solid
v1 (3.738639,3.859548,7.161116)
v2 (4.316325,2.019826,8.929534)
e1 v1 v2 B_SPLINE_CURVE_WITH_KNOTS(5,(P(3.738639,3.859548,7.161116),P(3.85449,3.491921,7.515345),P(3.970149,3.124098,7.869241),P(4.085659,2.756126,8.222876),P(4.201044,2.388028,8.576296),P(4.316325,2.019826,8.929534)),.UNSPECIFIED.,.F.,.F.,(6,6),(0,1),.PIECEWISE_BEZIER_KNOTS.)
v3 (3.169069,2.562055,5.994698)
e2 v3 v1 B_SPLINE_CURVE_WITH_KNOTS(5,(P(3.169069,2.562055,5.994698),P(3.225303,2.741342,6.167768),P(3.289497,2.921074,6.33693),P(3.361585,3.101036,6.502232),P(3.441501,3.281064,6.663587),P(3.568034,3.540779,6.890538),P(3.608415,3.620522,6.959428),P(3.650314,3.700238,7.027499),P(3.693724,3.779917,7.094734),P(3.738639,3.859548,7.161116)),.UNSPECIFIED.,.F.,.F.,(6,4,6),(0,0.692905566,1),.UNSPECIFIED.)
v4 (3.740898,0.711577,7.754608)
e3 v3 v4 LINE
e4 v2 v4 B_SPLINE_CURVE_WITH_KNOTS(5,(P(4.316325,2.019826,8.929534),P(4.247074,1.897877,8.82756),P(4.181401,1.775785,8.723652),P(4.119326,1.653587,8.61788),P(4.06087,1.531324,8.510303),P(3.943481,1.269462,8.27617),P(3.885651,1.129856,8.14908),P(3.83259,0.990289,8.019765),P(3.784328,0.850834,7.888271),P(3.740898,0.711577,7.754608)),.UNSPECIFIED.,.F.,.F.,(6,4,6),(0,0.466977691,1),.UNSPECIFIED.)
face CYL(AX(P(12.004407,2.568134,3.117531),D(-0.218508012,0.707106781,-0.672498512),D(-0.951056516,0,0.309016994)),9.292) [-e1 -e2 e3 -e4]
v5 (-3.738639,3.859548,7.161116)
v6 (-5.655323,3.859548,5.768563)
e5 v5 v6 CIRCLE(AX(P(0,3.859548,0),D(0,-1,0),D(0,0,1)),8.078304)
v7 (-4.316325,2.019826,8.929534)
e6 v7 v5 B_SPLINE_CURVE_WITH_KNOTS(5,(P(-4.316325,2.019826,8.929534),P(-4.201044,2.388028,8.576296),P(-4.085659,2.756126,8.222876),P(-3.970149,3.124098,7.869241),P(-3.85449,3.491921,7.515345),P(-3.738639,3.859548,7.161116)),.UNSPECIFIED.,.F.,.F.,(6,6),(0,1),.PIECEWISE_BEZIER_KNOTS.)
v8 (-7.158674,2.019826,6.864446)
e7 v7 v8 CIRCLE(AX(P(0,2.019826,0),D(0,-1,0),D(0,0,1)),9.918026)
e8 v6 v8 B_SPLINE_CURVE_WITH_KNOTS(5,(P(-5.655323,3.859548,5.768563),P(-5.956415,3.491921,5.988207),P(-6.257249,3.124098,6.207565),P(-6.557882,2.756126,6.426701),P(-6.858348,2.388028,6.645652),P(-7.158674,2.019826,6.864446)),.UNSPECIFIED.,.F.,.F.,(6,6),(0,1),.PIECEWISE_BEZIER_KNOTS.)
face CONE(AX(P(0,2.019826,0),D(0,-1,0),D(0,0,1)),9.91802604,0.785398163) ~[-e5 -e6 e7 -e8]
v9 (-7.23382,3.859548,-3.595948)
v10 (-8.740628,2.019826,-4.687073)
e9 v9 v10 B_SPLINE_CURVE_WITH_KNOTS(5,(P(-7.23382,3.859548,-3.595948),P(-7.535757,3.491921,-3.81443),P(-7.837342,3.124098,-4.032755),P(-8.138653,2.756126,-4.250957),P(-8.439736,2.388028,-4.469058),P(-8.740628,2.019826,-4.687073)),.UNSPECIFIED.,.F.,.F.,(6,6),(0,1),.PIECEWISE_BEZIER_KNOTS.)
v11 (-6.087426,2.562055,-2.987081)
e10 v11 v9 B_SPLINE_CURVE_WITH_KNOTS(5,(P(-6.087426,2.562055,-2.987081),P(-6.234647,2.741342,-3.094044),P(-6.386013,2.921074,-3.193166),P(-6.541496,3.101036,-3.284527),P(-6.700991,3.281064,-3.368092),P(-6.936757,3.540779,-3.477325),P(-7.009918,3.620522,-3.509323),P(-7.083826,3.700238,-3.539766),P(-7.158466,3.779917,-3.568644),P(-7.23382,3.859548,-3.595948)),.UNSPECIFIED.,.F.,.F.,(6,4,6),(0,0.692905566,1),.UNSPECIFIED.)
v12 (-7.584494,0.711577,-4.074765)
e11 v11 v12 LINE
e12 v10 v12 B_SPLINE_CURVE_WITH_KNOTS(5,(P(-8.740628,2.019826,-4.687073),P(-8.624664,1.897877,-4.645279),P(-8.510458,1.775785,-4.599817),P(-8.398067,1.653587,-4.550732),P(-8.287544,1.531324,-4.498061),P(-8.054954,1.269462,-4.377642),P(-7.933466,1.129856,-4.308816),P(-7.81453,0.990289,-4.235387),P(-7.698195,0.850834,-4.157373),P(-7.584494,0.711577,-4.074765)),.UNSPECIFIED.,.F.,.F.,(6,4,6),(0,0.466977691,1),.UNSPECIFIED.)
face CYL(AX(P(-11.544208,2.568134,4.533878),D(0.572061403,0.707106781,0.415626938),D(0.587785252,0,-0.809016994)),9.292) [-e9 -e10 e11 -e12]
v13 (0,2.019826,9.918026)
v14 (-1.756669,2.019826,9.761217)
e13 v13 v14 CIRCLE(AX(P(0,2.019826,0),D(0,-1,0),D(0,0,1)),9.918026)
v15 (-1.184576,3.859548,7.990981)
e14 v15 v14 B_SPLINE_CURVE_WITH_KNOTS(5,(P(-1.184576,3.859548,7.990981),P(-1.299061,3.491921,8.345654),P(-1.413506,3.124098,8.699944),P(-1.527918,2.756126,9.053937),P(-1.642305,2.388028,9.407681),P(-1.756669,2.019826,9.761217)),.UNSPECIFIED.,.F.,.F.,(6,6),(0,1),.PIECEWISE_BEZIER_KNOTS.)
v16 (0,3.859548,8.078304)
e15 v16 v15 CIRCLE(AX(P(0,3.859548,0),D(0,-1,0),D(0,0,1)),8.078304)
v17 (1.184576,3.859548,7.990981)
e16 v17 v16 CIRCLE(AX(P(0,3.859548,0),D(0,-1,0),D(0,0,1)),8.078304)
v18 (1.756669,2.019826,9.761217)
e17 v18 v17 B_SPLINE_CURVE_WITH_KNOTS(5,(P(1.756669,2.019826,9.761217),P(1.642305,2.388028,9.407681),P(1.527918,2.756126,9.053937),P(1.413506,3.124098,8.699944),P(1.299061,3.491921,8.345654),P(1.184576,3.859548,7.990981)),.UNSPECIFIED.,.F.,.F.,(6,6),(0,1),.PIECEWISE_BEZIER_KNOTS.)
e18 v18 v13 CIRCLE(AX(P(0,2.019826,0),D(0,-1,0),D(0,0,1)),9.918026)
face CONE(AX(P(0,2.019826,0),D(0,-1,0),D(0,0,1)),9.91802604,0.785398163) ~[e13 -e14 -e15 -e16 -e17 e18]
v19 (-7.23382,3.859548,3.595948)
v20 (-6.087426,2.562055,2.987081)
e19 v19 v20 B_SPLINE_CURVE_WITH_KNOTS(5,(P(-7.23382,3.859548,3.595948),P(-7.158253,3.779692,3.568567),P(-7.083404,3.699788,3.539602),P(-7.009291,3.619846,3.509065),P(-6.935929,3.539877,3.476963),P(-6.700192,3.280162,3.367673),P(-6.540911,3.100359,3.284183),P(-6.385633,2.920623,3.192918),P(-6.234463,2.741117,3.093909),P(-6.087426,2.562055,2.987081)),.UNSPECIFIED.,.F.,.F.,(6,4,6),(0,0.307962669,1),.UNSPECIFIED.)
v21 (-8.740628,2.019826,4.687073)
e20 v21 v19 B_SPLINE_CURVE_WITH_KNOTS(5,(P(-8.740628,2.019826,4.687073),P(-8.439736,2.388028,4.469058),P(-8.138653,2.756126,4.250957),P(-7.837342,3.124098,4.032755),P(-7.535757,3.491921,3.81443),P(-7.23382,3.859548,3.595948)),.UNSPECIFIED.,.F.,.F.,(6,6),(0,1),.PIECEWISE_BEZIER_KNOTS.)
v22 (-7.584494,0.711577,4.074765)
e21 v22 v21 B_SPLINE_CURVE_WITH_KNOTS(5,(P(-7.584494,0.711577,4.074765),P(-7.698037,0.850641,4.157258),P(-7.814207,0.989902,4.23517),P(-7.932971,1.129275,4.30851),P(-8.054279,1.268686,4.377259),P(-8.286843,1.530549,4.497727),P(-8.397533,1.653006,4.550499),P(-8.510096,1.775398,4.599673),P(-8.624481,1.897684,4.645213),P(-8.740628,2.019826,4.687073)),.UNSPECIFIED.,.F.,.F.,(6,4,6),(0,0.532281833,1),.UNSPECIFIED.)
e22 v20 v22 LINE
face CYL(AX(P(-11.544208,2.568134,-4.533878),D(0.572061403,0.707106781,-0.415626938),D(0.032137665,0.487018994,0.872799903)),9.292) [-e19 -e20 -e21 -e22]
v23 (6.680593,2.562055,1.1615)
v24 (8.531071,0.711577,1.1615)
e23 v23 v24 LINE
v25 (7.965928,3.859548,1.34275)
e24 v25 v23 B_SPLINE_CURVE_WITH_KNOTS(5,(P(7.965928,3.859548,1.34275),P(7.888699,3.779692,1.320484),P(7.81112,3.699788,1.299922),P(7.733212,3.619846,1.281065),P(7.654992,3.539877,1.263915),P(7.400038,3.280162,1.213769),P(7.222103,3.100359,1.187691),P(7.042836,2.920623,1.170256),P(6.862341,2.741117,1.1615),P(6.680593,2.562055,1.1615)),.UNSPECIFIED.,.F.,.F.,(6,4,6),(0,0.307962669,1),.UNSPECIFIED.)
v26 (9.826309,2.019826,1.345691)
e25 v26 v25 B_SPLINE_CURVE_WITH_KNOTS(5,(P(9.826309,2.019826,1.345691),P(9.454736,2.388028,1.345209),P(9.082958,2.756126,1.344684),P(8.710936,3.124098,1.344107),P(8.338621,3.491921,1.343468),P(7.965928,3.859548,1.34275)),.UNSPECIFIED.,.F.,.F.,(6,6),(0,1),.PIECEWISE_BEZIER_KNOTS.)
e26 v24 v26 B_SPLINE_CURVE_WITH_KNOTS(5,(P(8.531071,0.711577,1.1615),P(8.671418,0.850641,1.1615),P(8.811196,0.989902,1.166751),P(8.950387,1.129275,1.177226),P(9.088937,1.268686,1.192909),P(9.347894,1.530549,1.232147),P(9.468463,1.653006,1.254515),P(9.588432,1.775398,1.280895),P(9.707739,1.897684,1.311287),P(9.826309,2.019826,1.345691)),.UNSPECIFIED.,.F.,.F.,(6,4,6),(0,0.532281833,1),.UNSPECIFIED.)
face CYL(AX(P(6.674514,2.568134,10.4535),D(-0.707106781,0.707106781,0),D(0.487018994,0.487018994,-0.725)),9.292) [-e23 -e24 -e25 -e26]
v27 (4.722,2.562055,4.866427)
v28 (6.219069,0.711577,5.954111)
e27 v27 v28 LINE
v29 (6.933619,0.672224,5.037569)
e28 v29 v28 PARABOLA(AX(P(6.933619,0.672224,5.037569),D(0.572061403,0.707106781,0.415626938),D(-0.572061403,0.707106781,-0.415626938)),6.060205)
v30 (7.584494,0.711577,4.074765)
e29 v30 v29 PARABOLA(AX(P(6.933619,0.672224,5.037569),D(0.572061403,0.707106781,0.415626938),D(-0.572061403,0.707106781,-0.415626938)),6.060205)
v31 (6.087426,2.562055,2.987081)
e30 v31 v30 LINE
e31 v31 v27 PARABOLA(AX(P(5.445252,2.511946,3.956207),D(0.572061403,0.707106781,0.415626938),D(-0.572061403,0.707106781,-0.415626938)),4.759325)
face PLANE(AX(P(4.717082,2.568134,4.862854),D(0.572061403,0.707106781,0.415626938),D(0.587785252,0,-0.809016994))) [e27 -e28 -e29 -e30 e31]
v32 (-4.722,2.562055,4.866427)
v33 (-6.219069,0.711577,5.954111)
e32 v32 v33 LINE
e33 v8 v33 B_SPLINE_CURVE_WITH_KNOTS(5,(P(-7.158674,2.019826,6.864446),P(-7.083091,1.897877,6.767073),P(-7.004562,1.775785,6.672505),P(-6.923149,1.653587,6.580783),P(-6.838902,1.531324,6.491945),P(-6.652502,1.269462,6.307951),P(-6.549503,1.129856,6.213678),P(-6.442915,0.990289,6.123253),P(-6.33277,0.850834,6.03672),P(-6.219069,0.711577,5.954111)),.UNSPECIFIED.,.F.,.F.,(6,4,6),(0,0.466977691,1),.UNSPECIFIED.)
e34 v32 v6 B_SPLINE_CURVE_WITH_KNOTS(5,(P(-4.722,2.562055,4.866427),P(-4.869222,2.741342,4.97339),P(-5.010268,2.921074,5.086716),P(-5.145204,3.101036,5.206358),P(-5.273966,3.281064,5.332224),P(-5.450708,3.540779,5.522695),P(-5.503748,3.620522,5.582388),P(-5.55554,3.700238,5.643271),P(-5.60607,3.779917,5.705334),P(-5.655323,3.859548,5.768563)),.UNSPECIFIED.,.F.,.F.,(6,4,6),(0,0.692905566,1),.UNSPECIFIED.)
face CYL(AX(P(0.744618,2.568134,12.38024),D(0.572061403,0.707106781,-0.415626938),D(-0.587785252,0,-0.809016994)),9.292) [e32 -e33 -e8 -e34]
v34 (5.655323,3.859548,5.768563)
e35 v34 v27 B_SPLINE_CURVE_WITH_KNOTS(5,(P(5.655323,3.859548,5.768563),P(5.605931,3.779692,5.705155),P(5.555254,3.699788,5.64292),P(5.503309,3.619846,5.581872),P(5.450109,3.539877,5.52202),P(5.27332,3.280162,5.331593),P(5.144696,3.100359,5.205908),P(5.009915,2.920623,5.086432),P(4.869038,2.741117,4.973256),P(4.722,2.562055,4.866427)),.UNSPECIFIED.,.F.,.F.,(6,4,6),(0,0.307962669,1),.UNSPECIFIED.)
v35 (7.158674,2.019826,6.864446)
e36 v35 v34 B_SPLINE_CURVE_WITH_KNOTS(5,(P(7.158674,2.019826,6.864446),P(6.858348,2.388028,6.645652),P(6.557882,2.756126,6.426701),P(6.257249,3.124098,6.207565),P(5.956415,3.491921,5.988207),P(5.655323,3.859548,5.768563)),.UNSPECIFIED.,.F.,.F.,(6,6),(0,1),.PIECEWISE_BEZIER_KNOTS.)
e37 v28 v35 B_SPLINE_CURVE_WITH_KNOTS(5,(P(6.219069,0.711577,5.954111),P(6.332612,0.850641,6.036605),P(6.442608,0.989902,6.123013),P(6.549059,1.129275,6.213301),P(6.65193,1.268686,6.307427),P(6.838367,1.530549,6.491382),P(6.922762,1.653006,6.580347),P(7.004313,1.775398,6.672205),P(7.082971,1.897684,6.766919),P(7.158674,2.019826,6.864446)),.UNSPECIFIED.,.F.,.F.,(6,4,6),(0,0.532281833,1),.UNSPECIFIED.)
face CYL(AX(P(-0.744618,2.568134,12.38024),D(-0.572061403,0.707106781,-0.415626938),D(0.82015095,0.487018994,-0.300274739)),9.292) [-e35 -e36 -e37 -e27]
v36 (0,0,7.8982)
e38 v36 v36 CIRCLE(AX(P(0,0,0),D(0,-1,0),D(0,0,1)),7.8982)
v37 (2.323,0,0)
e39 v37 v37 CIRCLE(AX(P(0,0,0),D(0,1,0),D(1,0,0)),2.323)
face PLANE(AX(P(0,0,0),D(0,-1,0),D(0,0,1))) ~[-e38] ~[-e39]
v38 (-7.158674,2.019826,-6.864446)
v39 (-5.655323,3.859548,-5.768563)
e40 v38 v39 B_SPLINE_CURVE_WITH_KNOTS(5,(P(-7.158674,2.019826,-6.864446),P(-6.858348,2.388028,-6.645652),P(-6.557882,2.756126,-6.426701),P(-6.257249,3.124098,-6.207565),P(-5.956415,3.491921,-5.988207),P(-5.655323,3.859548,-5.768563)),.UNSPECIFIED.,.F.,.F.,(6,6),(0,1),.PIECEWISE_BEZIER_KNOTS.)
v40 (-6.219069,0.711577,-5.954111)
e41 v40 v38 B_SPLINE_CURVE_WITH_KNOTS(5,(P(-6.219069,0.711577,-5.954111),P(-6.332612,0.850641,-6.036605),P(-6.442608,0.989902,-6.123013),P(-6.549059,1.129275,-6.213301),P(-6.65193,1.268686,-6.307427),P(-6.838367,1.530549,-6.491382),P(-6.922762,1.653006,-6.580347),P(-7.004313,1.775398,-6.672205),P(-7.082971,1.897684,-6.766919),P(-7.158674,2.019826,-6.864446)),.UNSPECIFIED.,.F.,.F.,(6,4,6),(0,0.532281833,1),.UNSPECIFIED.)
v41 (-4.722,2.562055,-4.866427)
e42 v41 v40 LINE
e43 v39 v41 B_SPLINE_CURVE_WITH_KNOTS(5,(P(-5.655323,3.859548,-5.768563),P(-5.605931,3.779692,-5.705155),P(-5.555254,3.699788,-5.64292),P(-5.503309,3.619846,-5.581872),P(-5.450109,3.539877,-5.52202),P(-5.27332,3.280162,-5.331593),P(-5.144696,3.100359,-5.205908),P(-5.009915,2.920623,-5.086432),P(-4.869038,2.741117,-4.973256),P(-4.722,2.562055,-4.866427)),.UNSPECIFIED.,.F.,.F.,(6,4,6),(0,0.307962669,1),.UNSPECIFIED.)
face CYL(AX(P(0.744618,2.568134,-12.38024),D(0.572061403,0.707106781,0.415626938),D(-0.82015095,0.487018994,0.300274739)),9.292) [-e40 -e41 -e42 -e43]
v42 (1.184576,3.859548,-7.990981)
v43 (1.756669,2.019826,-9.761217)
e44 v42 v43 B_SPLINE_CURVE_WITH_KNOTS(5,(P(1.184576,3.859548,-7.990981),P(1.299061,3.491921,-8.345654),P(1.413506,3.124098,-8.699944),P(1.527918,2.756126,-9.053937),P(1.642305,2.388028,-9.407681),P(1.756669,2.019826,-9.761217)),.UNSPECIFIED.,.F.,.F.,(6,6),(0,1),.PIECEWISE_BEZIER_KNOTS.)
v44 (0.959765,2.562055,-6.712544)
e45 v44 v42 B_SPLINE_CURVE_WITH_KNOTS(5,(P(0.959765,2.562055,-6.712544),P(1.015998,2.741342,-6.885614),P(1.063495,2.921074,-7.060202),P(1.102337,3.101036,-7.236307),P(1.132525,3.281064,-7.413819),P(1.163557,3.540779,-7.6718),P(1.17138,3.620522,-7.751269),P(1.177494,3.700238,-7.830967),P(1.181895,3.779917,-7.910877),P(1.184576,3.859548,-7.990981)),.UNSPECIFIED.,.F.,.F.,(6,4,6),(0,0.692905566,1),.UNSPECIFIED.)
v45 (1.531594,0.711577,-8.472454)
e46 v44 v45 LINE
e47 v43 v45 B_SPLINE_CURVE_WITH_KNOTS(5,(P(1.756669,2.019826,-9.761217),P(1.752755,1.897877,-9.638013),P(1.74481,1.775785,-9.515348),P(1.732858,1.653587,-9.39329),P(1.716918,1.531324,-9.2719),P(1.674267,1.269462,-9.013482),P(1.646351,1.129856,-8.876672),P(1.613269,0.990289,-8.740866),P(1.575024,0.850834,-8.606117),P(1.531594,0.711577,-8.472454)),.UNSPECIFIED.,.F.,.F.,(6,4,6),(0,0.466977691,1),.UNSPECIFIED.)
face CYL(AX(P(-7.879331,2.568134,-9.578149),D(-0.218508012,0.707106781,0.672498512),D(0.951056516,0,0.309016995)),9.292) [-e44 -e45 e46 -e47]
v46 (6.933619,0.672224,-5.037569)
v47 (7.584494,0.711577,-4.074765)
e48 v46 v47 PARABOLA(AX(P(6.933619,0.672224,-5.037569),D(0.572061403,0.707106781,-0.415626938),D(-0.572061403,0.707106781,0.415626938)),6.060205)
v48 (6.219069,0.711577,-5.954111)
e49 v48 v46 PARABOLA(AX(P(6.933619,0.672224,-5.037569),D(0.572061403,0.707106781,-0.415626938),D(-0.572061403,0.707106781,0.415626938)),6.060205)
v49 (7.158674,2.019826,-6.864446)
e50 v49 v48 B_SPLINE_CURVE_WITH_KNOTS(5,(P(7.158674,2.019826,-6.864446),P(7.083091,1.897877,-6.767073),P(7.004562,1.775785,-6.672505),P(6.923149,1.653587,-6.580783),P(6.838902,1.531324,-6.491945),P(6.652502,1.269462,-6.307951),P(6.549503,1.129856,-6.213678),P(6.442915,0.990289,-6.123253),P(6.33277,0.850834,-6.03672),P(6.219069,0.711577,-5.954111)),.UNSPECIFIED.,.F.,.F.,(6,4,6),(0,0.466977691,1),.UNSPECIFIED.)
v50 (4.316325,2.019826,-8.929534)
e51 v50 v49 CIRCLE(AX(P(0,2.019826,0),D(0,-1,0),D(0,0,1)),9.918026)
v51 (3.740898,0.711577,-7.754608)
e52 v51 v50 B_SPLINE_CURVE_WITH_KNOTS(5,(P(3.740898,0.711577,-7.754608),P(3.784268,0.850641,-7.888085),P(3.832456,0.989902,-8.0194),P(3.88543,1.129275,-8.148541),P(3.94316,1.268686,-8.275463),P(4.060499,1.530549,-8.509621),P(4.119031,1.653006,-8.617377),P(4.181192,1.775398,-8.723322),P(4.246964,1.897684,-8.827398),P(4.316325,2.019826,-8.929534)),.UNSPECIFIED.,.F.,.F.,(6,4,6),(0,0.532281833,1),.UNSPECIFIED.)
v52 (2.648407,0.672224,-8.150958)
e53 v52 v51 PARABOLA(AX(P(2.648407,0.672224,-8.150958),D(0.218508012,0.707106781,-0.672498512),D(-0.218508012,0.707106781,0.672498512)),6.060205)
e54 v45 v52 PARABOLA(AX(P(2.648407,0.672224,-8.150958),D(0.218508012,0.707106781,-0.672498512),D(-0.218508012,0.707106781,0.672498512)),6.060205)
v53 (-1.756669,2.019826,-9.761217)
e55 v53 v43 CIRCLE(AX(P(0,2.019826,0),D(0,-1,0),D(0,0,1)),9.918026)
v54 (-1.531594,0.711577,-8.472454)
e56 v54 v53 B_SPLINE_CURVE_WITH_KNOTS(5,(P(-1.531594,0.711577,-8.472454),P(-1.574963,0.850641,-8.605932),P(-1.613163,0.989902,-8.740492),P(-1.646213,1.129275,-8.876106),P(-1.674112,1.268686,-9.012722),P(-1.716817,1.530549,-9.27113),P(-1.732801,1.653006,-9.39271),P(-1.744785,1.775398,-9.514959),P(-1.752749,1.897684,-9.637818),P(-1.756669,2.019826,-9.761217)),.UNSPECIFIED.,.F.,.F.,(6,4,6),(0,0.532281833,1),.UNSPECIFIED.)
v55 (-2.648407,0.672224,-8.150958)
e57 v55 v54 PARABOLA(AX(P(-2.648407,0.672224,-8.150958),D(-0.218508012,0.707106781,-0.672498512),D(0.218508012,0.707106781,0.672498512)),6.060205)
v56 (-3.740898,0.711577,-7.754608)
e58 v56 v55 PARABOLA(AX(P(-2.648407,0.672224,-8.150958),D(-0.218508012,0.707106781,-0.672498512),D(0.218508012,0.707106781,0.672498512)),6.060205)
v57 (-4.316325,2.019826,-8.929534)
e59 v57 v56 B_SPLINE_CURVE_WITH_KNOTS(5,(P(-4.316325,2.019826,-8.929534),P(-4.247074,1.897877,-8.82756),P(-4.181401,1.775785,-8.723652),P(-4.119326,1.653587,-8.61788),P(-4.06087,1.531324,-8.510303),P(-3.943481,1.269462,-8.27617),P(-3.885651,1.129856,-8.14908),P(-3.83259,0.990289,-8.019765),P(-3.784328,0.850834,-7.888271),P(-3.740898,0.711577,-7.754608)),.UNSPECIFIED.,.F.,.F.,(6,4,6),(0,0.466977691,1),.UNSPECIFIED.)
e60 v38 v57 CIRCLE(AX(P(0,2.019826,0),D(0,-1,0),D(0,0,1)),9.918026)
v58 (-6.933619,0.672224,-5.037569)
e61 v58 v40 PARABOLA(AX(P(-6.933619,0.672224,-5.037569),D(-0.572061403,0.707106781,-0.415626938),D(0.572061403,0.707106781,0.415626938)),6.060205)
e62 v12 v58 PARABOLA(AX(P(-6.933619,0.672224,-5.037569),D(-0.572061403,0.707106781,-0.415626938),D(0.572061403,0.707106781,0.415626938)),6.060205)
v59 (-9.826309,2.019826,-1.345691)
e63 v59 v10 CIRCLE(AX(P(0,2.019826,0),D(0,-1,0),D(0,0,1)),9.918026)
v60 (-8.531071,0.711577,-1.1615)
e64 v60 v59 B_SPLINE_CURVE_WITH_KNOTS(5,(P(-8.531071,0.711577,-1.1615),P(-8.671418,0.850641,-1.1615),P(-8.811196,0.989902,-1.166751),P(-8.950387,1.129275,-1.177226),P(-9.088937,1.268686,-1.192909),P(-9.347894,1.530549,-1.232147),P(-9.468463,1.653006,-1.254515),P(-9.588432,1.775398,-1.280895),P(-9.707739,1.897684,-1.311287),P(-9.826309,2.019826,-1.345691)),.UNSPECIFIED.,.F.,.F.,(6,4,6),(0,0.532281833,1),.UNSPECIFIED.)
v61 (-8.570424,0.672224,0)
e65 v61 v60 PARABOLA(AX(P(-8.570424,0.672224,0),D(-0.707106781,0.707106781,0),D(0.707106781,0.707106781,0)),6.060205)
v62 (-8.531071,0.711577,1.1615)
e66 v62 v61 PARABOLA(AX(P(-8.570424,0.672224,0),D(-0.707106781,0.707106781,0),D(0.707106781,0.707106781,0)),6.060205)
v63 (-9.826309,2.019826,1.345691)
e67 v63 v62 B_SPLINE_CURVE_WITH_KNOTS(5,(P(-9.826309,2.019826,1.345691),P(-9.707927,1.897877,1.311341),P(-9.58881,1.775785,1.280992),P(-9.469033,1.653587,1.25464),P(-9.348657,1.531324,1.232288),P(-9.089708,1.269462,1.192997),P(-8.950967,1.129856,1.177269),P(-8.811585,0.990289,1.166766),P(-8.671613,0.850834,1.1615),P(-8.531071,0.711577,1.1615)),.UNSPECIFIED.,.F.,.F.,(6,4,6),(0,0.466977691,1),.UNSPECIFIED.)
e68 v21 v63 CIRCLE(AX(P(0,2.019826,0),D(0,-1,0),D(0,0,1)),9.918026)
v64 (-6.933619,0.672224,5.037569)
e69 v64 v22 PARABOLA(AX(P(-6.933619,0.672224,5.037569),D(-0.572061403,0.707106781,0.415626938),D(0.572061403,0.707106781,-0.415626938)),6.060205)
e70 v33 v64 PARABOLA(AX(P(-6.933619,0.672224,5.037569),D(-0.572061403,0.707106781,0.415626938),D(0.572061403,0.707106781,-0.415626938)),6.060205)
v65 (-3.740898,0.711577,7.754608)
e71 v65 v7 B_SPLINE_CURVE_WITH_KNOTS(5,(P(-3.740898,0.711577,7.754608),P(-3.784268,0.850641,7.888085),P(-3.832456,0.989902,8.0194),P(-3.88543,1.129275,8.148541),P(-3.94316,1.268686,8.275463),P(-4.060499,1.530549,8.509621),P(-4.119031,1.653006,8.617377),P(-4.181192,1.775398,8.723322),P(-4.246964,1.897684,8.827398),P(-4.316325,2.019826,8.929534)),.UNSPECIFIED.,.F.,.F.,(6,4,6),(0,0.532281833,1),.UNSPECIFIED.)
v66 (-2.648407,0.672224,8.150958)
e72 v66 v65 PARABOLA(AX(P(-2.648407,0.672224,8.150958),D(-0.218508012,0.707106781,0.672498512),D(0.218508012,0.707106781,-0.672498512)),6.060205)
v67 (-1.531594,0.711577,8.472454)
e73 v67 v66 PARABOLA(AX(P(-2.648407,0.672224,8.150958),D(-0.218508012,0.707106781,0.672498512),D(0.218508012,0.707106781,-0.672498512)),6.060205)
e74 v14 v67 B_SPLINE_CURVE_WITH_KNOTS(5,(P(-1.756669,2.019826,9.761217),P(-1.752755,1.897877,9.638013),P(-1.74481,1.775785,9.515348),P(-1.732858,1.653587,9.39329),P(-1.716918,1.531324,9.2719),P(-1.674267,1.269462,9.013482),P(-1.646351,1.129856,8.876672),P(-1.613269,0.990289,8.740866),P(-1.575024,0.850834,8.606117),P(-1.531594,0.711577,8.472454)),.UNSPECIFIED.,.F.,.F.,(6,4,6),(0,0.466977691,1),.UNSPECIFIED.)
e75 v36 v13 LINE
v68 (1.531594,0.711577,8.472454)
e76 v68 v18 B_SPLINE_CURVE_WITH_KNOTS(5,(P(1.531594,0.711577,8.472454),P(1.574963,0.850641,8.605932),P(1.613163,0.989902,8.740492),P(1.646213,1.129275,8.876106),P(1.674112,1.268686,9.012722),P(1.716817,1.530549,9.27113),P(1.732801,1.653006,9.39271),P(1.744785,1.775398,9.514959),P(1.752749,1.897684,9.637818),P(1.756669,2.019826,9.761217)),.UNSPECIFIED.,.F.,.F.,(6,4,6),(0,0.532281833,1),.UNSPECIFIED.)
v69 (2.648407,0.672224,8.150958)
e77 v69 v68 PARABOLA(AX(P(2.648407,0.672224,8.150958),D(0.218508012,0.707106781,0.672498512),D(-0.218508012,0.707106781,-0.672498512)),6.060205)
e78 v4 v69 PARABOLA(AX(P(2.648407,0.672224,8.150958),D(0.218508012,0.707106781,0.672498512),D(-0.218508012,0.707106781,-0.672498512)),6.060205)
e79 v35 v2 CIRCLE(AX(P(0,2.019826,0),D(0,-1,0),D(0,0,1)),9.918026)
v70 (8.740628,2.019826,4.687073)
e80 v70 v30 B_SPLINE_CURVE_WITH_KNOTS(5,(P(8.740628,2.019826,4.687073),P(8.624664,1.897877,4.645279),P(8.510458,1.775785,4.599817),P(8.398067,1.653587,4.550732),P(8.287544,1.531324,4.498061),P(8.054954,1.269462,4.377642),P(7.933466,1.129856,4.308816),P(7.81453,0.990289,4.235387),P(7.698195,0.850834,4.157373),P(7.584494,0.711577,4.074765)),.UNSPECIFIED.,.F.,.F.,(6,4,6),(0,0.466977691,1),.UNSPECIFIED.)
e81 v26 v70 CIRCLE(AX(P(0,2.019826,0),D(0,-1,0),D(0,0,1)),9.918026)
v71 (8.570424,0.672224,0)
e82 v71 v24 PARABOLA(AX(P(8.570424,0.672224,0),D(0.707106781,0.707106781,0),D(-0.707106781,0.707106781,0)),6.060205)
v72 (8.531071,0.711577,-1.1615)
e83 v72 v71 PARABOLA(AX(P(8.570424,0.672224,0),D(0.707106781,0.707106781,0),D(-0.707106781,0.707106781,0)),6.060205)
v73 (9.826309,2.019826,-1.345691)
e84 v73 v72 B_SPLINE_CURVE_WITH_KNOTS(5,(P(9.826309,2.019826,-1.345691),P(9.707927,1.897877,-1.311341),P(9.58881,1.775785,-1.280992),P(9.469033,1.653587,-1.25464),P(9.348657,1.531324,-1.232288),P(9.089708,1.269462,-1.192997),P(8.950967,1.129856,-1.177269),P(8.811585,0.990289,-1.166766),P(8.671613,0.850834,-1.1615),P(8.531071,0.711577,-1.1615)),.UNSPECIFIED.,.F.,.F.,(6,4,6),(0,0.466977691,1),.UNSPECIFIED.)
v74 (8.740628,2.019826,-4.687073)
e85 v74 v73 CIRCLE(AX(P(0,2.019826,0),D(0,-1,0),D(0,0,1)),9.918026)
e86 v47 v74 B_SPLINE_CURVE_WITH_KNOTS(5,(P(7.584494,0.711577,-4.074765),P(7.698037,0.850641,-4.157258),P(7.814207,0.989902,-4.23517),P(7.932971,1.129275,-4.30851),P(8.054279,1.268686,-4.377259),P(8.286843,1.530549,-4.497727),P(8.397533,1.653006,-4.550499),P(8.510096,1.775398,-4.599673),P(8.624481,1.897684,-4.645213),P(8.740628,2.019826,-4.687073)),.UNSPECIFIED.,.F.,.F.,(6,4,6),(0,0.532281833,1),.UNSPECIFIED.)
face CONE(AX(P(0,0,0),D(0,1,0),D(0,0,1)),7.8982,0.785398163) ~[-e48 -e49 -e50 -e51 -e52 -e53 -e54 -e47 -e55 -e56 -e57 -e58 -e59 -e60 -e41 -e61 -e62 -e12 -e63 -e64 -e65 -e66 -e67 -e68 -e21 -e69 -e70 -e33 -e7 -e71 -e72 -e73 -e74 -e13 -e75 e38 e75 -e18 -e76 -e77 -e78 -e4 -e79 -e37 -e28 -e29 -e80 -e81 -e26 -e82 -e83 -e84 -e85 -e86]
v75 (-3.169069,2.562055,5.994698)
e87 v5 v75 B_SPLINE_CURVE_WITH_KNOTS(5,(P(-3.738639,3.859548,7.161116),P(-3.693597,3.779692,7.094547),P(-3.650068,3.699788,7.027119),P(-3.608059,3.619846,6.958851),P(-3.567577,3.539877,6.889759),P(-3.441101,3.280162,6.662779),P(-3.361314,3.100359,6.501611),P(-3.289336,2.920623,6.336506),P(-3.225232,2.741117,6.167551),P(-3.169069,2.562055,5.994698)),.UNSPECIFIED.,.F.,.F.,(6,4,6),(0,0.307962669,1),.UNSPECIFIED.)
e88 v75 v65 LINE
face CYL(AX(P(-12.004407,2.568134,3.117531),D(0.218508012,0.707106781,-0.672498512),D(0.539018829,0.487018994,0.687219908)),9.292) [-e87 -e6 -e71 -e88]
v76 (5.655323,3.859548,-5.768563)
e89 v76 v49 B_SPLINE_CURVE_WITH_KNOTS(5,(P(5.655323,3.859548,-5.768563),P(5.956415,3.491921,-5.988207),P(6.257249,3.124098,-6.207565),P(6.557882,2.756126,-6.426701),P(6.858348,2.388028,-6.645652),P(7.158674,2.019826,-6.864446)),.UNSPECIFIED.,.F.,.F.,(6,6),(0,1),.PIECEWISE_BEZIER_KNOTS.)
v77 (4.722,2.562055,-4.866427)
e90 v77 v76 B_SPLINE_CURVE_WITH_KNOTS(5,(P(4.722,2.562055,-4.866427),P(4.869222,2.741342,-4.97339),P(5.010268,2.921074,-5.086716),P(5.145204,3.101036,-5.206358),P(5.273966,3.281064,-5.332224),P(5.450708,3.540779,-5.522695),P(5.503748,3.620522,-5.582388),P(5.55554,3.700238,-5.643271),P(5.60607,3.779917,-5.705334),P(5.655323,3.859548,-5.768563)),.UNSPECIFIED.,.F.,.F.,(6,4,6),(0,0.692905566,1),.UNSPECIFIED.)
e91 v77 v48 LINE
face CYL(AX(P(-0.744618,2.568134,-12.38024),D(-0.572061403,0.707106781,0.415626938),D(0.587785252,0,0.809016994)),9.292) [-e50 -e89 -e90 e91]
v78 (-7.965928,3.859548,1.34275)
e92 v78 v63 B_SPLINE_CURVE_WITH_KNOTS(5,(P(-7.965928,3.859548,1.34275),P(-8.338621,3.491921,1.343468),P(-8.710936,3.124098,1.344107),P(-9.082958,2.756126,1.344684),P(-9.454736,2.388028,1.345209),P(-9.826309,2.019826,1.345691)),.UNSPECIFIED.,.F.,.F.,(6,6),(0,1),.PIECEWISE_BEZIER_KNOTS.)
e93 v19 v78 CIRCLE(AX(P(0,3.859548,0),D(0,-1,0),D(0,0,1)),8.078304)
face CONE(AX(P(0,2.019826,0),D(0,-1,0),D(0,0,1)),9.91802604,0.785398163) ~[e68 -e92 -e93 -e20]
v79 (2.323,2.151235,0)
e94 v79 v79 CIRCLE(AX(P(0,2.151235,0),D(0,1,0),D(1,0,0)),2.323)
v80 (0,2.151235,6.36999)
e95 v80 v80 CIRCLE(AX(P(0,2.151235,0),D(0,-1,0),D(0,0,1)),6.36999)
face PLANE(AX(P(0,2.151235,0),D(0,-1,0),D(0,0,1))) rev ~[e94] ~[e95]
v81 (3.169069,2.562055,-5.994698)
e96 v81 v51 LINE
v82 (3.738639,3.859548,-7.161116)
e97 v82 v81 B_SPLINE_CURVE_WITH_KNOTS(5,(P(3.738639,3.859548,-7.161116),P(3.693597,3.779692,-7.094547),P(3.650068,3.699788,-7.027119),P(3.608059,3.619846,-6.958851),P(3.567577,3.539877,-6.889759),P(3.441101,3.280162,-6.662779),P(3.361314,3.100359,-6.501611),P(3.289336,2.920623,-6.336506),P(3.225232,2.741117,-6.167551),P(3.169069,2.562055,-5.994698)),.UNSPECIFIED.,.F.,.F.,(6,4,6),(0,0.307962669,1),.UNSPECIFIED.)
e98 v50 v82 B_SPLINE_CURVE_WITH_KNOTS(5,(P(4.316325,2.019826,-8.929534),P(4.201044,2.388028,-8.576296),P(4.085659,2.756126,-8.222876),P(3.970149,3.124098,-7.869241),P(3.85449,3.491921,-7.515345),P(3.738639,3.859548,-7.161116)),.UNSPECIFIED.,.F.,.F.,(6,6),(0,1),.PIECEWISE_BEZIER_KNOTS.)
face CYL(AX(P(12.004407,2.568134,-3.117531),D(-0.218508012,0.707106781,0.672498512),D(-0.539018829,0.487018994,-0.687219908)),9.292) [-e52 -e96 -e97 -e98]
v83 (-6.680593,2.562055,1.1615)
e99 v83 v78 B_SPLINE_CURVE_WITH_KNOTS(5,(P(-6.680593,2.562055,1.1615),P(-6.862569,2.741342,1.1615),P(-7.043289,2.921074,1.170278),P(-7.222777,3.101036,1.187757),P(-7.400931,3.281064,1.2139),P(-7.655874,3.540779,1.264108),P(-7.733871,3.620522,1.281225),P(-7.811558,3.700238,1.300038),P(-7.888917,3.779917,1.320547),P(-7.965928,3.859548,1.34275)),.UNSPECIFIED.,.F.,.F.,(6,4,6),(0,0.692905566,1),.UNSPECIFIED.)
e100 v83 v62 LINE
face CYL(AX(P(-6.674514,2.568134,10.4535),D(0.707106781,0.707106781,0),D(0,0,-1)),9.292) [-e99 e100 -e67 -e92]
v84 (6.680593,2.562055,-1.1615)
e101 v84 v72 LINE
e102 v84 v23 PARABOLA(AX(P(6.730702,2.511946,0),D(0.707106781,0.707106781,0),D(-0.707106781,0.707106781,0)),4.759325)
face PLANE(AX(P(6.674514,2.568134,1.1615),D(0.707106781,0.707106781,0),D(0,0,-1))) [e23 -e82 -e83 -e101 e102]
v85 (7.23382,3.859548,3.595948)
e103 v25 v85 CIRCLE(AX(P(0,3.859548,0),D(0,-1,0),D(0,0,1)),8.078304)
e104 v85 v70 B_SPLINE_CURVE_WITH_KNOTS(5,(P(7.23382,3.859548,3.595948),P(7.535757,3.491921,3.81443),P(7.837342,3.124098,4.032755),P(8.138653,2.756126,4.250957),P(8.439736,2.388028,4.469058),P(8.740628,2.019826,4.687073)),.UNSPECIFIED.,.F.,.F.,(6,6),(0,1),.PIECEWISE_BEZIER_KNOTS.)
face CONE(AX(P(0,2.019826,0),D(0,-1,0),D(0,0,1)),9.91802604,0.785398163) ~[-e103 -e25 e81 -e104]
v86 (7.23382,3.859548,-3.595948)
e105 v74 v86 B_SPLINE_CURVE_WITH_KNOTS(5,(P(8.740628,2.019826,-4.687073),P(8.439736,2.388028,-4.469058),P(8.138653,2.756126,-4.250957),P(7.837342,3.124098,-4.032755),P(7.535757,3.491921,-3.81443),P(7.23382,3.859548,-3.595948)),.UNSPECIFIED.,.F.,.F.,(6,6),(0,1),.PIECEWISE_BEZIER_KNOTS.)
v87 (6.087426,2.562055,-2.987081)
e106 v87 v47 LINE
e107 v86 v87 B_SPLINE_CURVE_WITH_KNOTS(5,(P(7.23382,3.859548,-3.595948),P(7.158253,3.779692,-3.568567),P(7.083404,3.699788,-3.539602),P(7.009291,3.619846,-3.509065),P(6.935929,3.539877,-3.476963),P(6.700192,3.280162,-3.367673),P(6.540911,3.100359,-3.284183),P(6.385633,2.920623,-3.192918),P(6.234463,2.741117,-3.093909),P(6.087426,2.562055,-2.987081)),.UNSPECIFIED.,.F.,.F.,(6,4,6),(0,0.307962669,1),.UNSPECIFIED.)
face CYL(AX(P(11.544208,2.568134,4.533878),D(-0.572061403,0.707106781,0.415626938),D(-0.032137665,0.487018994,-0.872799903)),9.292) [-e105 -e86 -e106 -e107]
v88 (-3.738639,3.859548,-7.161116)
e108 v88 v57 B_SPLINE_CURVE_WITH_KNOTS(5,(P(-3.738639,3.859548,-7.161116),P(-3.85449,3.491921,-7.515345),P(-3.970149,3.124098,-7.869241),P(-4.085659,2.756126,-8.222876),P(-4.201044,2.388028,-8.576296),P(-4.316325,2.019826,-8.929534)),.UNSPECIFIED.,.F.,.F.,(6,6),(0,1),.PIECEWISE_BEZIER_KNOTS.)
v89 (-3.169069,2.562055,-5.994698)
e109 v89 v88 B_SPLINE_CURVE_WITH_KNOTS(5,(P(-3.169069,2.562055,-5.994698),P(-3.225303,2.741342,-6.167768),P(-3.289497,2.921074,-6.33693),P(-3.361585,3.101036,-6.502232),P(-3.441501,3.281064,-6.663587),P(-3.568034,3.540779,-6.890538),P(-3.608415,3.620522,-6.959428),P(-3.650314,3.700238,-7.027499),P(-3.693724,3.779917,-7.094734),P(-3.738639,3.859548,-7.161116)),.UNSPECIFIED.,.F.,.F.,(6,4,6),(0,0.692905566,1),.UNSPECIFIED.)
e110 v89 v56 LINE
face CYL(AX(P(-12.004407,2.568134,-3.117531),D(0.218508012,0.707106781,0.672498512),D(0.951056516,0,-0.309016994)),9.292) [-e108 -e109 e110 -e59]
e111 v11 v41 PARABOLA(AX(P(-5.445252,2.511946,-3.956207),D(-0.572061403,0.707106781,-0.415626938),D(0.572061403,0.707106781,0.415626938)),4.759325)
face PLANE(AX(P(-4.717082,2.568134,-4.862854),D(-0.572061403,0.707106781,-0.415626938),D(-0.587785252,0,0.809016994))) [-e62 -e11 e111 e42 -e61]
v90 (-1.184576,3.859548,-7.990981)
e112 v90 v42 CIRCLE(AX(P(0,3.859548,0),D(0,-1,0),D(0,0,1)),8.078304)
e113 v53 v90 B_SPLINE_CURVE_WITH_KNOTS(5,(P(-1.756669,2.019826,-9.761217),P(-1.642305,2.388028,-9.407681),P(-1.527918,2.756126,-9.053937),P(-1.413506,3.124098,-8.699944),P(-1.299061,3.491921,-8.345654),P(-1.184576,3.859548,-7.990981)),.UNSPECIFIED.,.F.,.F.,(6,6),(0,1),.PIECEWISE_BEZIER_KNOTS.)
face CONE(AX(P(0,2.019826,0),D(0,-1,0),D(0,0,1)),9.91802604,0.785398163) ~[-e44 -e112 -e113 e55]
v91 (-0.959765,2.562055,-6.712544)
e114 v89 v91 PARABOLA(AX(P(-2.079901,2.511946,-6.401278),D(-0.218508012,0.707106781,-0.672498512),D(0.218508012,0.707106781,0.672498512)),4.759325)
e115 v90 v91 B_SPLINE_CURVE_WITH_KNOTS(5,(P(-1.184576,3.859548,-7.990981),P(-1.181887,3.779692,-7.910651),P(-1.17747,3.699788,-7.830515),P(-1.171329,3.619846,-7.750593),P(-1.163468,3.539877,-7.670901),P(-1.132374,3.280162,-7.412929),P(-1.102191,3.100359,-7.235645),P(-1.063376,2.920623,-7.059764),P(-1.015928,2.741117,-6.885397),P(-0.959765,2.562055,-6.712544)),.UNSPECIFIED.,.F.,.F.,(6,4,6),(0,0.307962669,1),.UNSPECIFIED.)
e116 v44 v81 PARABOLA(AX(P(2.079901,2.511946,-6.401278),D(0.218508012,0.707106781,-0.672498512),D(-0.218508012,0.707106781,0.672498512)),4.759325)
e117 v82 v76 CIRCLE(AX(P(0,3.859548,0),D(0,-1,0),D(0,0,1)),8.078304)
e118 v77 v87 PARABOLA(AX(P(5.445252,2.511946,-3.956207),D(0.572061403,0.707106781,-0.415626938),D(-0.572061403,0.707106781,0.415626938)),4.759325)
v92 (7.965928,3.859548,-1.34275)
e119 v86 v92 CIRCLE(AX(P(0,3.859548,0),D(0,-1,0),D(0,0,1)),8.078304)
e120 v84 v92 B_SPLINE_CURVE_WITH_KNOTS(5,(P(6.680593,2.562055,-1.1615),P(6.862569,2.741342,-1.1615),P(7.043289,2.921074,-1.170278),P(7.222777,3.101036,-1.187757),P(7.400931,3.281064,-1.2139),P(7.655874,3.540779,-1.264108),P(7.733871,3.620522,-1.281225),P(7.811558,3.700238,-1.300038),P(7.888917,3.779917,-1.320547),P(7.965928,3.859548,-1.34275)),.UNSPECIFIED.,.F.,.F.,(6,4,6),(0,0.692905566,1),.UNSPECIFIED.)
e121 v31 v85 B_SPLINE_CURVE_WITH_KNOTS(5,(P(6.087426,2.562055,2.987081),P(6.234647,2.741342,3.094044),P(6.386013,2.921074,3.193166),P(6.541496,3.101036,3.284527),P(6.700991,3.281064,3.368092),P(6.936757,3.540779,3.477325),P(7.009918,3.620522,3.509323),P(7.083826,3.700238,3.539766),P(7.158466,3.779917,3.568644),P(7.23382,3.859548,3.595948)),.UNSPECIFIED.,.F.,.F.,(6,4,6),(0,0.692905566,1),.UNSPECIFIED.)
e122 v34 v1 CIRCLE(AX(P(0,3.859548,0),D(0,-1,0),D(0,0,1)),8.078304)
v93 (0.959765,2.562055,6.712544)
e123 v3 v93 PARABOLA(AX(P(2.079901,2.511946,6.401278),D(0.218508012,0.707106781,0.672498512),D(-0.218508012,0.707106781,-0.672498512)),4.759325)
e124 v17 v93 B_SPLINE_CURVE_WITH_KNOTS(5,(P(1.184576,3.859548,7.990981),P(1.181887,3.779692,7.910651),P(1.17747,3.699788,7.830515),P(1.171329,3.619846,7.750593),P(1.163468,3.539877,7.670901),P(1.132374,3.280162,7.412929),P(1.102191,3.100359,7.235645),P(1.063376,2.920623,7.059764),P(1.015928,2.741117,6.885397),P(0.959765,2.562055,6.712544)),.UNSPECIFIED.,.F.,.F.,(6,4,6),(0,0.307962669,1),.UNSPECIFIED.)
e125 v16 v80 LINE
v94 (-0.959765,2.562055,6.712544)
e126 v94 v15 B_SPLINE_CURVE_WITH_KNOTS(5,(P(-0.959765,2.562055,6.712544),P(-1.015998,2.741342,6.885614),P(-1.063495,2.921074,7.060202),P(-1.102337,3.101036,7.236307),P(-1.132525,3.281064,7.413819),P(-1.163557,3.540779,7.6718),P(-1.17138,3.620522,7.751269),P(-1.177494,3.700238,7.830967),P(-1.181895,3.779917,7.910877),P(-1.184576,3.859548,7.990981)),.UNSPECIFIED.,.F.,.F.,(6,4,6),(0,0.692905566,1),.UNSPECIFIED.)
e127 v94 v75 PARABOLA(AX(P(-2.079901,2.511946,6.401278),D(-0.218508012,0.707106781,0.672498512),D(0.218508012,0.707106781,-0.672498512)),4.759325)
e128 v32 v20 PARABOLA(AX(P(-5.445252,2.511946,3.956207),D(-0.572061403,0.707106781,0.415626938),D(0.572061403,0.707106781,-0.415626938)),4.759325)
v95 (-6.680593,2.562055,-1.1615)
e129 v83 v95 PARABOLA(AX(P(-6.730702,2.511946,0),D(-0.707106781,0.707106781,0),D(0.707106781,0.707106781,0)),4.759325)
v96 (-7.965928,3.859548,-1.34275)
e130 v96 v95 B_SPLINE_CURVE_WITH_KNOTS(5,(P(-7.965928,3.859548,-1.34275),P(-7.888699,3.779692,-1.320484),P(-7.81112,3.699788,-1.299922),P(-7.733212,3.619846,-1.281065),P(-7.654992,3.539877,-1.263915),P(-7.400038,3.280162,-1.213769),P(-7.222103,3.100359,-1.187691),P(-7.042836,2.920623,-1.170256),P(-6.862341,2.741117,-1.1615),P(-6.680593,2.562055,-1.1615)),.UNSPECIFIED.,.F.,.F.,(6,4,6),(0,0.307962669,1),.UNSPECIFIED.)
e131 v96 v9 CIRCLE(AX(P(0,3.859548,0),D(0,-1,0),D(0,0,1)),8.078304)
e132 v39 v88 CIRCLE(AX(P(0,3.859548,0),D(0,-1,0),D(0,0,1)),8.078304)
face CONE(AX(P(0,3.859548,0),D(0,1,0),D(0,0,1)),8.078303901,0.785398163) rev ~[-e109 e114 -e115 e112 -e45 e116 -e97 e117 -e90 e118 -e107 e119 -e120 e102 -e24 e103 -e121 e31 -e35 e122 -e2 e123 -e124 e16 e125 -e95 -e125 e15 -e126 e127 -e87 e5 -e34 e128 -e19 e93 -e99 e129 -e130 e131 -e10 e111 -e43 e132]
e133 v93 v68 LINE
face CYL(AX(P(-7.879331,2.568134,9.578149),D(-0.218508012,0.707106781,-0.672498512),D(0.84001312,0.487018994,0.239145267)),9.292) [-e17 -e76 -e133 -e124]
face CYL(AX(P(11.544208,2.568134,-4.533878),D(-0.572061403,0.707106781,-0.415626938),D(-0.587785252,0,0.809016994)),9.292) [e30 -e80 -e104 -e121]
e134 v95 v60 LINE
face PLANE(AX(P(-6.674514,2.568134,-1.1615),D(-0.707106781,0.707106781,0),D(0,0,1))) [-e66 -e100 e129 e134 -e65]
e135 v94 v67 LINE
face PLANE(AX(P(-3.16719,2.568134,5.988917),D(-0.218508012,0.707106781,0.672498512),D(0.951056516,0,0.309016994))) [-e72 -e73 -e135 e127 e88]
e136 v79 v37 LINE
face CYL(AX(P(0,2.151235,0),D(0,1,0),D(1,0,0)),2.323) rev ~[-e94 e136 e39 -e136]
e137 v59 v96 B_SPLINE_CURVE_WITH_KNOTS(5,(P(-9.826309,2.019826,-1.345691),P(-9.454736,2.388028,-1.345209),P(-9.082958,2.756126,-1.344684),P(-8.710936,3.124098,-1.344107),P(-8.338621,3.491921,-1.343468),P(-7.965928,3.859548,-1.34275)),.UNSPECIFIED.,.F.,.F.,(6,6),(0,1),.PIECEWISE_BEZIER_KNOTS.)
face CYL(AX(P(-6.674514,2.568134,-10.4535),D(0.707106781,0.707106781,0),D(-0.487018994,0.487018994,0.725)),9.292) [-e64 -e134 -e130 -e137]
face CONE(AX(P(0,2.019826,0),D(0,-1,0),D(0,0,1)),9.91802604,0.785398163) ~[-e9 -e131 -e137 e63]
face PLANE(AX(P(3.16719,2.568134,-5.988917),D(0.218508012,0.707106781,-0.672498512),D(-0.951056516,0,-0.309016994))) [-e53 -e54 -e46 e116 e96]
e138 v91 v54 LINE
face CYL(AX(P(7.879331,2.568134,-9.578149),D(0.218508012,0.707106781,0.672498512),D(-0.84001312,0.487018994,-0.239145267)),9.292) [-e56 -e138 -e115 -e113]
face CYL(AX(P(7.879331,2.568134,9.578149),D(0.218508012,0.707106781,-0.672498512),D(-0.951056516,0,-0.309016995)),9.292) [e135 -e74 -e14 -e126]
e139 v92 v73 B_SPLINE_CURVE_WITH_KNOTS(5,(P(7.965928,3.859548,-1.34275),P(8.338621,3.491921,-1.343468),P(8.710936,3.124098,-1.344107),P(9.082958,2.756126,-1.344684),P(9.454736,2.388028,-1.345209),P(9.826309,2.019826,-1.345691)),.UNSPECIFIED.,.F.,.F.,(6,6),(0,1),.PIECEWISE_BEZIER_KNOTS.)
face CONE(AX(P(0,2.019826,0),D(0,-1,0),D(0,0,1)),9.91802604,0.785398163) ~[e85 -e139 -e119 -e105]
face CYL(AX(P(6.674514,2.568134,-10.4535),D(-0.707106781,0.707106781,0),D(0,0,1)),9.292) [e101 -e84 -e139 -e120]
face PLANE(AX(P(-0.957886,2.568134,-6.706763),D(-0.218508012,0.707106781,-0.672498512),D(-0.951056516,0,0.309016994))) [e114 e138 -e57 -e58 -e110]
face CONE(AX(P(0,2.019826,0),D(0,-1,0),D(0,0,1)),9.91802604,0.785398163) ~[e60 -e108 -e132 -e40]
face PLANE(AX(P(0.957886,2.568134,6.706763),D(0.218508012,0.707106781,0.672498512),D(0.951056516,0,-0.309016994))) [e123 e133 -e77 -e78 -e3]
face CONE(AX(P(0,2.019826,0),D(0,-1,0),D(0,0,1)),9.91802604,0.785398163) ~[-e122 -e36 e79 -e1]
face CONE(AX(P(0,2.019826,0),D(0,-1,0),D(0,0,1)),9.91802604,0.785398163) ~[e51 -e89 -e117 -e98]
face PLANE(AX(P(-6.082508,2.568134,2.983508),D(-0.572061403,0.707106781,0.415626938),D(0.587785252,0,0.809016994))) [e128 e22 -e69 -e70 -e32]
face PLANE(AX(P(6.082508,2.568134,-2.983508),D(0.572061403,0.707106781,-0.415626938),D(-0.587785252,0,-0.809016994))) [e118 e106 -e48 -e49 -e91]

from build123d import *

# Parameters (mm, degrees)
CUT_EXTRUDE1_START = -2.681222
CUT_EXTRUDE1_DEPTH = 2.681222
CIRPATTERN3_COUNT  = 10
CUT_EXTRUDE2_REACH = 4.151
SKETCH5_R          = 2.323


with BuildPart() as part:
    # Sketch2 → Revolve2 (revolve)
    with BuildSketch(Plane(origin=(0, 0, 0), x_dir=(0, 0, -1), z_dir=(1, 0, 0))):
        Polygon((0, 0), (-7.8982, 0), (-9.91802604, 2.01982604), (-8.078303901, 3.859548179), (-6.369990486, 2.151234764), (0, 2.151234764), align=None)
    revolve(axis=Axis((0, 2.151234764, 0), (0, -1, 0)))

    # Sketch4 → Cut-Extrude1 (cut)
    with BuildSketch(Plane(origin=(-3.9491, -3.9491, 0), x_dir=(0, 0, 1), z_dir=(-0.707106781, -0.707106781, 0)).offset(CUT_EXTRUDE1_START)):
        with BuildLine():
            Line((-1.1615, 6.535539097), (1.1615, 6.535539097))
            ThreePointArc((1.1615, 6.535539097), (1.823938006, 9.981104914), (3.7168, 12.935393557))
            Line((3.7168, 12.935393557), (-3.7168, 12.935393557))
            ThreePointArc((-3.7168, 12.935393557), (-1.823938006, 9.981104914), (-1.1615, 6.535539097))
        make_face()
    cut_extrude1 = extrude(amount=CUT_EXTRUDE1_DEPTH, mode=Mode.SUBTRACT)

    # CirPattern3: Cut-Extrude1 ×10 about axis
    cirpattern3_axis = Axis((0, 0, 0), (0, 1, 0))
    for i in range(1, CIRPATTERN3_COUNT):
        add(cut_extrude1.rotate(cirpattern3_axis, i * 360 / CIRPATTERN3_COUNT), mode=Mode.SUBTRACT)

    # Sketch5 → Cut-Extrude2 (cut, up to next)
    with BuildSketch(Plane(origin=(0, 2.151234764, 0), x_dir=(1, 0, 0), z_dir=(0, 1, 0)), mode=Mode.PRIVATE) as cut_extrude2_sk1:
        Circle(SKETCH5_R)
    cut_extrude2_tool1 = extrude(cut_extrude2_sk1.sketch, amount=-CUT_EXTRUDE2_REACH, mode=Mode.PRIVATE) & part.part
    add(cut_extrude2_tool1.solids().sort_by_distance((0, 2.151235, 0))[0], mode=Mode.SUBTRACT)


solid = part.part
